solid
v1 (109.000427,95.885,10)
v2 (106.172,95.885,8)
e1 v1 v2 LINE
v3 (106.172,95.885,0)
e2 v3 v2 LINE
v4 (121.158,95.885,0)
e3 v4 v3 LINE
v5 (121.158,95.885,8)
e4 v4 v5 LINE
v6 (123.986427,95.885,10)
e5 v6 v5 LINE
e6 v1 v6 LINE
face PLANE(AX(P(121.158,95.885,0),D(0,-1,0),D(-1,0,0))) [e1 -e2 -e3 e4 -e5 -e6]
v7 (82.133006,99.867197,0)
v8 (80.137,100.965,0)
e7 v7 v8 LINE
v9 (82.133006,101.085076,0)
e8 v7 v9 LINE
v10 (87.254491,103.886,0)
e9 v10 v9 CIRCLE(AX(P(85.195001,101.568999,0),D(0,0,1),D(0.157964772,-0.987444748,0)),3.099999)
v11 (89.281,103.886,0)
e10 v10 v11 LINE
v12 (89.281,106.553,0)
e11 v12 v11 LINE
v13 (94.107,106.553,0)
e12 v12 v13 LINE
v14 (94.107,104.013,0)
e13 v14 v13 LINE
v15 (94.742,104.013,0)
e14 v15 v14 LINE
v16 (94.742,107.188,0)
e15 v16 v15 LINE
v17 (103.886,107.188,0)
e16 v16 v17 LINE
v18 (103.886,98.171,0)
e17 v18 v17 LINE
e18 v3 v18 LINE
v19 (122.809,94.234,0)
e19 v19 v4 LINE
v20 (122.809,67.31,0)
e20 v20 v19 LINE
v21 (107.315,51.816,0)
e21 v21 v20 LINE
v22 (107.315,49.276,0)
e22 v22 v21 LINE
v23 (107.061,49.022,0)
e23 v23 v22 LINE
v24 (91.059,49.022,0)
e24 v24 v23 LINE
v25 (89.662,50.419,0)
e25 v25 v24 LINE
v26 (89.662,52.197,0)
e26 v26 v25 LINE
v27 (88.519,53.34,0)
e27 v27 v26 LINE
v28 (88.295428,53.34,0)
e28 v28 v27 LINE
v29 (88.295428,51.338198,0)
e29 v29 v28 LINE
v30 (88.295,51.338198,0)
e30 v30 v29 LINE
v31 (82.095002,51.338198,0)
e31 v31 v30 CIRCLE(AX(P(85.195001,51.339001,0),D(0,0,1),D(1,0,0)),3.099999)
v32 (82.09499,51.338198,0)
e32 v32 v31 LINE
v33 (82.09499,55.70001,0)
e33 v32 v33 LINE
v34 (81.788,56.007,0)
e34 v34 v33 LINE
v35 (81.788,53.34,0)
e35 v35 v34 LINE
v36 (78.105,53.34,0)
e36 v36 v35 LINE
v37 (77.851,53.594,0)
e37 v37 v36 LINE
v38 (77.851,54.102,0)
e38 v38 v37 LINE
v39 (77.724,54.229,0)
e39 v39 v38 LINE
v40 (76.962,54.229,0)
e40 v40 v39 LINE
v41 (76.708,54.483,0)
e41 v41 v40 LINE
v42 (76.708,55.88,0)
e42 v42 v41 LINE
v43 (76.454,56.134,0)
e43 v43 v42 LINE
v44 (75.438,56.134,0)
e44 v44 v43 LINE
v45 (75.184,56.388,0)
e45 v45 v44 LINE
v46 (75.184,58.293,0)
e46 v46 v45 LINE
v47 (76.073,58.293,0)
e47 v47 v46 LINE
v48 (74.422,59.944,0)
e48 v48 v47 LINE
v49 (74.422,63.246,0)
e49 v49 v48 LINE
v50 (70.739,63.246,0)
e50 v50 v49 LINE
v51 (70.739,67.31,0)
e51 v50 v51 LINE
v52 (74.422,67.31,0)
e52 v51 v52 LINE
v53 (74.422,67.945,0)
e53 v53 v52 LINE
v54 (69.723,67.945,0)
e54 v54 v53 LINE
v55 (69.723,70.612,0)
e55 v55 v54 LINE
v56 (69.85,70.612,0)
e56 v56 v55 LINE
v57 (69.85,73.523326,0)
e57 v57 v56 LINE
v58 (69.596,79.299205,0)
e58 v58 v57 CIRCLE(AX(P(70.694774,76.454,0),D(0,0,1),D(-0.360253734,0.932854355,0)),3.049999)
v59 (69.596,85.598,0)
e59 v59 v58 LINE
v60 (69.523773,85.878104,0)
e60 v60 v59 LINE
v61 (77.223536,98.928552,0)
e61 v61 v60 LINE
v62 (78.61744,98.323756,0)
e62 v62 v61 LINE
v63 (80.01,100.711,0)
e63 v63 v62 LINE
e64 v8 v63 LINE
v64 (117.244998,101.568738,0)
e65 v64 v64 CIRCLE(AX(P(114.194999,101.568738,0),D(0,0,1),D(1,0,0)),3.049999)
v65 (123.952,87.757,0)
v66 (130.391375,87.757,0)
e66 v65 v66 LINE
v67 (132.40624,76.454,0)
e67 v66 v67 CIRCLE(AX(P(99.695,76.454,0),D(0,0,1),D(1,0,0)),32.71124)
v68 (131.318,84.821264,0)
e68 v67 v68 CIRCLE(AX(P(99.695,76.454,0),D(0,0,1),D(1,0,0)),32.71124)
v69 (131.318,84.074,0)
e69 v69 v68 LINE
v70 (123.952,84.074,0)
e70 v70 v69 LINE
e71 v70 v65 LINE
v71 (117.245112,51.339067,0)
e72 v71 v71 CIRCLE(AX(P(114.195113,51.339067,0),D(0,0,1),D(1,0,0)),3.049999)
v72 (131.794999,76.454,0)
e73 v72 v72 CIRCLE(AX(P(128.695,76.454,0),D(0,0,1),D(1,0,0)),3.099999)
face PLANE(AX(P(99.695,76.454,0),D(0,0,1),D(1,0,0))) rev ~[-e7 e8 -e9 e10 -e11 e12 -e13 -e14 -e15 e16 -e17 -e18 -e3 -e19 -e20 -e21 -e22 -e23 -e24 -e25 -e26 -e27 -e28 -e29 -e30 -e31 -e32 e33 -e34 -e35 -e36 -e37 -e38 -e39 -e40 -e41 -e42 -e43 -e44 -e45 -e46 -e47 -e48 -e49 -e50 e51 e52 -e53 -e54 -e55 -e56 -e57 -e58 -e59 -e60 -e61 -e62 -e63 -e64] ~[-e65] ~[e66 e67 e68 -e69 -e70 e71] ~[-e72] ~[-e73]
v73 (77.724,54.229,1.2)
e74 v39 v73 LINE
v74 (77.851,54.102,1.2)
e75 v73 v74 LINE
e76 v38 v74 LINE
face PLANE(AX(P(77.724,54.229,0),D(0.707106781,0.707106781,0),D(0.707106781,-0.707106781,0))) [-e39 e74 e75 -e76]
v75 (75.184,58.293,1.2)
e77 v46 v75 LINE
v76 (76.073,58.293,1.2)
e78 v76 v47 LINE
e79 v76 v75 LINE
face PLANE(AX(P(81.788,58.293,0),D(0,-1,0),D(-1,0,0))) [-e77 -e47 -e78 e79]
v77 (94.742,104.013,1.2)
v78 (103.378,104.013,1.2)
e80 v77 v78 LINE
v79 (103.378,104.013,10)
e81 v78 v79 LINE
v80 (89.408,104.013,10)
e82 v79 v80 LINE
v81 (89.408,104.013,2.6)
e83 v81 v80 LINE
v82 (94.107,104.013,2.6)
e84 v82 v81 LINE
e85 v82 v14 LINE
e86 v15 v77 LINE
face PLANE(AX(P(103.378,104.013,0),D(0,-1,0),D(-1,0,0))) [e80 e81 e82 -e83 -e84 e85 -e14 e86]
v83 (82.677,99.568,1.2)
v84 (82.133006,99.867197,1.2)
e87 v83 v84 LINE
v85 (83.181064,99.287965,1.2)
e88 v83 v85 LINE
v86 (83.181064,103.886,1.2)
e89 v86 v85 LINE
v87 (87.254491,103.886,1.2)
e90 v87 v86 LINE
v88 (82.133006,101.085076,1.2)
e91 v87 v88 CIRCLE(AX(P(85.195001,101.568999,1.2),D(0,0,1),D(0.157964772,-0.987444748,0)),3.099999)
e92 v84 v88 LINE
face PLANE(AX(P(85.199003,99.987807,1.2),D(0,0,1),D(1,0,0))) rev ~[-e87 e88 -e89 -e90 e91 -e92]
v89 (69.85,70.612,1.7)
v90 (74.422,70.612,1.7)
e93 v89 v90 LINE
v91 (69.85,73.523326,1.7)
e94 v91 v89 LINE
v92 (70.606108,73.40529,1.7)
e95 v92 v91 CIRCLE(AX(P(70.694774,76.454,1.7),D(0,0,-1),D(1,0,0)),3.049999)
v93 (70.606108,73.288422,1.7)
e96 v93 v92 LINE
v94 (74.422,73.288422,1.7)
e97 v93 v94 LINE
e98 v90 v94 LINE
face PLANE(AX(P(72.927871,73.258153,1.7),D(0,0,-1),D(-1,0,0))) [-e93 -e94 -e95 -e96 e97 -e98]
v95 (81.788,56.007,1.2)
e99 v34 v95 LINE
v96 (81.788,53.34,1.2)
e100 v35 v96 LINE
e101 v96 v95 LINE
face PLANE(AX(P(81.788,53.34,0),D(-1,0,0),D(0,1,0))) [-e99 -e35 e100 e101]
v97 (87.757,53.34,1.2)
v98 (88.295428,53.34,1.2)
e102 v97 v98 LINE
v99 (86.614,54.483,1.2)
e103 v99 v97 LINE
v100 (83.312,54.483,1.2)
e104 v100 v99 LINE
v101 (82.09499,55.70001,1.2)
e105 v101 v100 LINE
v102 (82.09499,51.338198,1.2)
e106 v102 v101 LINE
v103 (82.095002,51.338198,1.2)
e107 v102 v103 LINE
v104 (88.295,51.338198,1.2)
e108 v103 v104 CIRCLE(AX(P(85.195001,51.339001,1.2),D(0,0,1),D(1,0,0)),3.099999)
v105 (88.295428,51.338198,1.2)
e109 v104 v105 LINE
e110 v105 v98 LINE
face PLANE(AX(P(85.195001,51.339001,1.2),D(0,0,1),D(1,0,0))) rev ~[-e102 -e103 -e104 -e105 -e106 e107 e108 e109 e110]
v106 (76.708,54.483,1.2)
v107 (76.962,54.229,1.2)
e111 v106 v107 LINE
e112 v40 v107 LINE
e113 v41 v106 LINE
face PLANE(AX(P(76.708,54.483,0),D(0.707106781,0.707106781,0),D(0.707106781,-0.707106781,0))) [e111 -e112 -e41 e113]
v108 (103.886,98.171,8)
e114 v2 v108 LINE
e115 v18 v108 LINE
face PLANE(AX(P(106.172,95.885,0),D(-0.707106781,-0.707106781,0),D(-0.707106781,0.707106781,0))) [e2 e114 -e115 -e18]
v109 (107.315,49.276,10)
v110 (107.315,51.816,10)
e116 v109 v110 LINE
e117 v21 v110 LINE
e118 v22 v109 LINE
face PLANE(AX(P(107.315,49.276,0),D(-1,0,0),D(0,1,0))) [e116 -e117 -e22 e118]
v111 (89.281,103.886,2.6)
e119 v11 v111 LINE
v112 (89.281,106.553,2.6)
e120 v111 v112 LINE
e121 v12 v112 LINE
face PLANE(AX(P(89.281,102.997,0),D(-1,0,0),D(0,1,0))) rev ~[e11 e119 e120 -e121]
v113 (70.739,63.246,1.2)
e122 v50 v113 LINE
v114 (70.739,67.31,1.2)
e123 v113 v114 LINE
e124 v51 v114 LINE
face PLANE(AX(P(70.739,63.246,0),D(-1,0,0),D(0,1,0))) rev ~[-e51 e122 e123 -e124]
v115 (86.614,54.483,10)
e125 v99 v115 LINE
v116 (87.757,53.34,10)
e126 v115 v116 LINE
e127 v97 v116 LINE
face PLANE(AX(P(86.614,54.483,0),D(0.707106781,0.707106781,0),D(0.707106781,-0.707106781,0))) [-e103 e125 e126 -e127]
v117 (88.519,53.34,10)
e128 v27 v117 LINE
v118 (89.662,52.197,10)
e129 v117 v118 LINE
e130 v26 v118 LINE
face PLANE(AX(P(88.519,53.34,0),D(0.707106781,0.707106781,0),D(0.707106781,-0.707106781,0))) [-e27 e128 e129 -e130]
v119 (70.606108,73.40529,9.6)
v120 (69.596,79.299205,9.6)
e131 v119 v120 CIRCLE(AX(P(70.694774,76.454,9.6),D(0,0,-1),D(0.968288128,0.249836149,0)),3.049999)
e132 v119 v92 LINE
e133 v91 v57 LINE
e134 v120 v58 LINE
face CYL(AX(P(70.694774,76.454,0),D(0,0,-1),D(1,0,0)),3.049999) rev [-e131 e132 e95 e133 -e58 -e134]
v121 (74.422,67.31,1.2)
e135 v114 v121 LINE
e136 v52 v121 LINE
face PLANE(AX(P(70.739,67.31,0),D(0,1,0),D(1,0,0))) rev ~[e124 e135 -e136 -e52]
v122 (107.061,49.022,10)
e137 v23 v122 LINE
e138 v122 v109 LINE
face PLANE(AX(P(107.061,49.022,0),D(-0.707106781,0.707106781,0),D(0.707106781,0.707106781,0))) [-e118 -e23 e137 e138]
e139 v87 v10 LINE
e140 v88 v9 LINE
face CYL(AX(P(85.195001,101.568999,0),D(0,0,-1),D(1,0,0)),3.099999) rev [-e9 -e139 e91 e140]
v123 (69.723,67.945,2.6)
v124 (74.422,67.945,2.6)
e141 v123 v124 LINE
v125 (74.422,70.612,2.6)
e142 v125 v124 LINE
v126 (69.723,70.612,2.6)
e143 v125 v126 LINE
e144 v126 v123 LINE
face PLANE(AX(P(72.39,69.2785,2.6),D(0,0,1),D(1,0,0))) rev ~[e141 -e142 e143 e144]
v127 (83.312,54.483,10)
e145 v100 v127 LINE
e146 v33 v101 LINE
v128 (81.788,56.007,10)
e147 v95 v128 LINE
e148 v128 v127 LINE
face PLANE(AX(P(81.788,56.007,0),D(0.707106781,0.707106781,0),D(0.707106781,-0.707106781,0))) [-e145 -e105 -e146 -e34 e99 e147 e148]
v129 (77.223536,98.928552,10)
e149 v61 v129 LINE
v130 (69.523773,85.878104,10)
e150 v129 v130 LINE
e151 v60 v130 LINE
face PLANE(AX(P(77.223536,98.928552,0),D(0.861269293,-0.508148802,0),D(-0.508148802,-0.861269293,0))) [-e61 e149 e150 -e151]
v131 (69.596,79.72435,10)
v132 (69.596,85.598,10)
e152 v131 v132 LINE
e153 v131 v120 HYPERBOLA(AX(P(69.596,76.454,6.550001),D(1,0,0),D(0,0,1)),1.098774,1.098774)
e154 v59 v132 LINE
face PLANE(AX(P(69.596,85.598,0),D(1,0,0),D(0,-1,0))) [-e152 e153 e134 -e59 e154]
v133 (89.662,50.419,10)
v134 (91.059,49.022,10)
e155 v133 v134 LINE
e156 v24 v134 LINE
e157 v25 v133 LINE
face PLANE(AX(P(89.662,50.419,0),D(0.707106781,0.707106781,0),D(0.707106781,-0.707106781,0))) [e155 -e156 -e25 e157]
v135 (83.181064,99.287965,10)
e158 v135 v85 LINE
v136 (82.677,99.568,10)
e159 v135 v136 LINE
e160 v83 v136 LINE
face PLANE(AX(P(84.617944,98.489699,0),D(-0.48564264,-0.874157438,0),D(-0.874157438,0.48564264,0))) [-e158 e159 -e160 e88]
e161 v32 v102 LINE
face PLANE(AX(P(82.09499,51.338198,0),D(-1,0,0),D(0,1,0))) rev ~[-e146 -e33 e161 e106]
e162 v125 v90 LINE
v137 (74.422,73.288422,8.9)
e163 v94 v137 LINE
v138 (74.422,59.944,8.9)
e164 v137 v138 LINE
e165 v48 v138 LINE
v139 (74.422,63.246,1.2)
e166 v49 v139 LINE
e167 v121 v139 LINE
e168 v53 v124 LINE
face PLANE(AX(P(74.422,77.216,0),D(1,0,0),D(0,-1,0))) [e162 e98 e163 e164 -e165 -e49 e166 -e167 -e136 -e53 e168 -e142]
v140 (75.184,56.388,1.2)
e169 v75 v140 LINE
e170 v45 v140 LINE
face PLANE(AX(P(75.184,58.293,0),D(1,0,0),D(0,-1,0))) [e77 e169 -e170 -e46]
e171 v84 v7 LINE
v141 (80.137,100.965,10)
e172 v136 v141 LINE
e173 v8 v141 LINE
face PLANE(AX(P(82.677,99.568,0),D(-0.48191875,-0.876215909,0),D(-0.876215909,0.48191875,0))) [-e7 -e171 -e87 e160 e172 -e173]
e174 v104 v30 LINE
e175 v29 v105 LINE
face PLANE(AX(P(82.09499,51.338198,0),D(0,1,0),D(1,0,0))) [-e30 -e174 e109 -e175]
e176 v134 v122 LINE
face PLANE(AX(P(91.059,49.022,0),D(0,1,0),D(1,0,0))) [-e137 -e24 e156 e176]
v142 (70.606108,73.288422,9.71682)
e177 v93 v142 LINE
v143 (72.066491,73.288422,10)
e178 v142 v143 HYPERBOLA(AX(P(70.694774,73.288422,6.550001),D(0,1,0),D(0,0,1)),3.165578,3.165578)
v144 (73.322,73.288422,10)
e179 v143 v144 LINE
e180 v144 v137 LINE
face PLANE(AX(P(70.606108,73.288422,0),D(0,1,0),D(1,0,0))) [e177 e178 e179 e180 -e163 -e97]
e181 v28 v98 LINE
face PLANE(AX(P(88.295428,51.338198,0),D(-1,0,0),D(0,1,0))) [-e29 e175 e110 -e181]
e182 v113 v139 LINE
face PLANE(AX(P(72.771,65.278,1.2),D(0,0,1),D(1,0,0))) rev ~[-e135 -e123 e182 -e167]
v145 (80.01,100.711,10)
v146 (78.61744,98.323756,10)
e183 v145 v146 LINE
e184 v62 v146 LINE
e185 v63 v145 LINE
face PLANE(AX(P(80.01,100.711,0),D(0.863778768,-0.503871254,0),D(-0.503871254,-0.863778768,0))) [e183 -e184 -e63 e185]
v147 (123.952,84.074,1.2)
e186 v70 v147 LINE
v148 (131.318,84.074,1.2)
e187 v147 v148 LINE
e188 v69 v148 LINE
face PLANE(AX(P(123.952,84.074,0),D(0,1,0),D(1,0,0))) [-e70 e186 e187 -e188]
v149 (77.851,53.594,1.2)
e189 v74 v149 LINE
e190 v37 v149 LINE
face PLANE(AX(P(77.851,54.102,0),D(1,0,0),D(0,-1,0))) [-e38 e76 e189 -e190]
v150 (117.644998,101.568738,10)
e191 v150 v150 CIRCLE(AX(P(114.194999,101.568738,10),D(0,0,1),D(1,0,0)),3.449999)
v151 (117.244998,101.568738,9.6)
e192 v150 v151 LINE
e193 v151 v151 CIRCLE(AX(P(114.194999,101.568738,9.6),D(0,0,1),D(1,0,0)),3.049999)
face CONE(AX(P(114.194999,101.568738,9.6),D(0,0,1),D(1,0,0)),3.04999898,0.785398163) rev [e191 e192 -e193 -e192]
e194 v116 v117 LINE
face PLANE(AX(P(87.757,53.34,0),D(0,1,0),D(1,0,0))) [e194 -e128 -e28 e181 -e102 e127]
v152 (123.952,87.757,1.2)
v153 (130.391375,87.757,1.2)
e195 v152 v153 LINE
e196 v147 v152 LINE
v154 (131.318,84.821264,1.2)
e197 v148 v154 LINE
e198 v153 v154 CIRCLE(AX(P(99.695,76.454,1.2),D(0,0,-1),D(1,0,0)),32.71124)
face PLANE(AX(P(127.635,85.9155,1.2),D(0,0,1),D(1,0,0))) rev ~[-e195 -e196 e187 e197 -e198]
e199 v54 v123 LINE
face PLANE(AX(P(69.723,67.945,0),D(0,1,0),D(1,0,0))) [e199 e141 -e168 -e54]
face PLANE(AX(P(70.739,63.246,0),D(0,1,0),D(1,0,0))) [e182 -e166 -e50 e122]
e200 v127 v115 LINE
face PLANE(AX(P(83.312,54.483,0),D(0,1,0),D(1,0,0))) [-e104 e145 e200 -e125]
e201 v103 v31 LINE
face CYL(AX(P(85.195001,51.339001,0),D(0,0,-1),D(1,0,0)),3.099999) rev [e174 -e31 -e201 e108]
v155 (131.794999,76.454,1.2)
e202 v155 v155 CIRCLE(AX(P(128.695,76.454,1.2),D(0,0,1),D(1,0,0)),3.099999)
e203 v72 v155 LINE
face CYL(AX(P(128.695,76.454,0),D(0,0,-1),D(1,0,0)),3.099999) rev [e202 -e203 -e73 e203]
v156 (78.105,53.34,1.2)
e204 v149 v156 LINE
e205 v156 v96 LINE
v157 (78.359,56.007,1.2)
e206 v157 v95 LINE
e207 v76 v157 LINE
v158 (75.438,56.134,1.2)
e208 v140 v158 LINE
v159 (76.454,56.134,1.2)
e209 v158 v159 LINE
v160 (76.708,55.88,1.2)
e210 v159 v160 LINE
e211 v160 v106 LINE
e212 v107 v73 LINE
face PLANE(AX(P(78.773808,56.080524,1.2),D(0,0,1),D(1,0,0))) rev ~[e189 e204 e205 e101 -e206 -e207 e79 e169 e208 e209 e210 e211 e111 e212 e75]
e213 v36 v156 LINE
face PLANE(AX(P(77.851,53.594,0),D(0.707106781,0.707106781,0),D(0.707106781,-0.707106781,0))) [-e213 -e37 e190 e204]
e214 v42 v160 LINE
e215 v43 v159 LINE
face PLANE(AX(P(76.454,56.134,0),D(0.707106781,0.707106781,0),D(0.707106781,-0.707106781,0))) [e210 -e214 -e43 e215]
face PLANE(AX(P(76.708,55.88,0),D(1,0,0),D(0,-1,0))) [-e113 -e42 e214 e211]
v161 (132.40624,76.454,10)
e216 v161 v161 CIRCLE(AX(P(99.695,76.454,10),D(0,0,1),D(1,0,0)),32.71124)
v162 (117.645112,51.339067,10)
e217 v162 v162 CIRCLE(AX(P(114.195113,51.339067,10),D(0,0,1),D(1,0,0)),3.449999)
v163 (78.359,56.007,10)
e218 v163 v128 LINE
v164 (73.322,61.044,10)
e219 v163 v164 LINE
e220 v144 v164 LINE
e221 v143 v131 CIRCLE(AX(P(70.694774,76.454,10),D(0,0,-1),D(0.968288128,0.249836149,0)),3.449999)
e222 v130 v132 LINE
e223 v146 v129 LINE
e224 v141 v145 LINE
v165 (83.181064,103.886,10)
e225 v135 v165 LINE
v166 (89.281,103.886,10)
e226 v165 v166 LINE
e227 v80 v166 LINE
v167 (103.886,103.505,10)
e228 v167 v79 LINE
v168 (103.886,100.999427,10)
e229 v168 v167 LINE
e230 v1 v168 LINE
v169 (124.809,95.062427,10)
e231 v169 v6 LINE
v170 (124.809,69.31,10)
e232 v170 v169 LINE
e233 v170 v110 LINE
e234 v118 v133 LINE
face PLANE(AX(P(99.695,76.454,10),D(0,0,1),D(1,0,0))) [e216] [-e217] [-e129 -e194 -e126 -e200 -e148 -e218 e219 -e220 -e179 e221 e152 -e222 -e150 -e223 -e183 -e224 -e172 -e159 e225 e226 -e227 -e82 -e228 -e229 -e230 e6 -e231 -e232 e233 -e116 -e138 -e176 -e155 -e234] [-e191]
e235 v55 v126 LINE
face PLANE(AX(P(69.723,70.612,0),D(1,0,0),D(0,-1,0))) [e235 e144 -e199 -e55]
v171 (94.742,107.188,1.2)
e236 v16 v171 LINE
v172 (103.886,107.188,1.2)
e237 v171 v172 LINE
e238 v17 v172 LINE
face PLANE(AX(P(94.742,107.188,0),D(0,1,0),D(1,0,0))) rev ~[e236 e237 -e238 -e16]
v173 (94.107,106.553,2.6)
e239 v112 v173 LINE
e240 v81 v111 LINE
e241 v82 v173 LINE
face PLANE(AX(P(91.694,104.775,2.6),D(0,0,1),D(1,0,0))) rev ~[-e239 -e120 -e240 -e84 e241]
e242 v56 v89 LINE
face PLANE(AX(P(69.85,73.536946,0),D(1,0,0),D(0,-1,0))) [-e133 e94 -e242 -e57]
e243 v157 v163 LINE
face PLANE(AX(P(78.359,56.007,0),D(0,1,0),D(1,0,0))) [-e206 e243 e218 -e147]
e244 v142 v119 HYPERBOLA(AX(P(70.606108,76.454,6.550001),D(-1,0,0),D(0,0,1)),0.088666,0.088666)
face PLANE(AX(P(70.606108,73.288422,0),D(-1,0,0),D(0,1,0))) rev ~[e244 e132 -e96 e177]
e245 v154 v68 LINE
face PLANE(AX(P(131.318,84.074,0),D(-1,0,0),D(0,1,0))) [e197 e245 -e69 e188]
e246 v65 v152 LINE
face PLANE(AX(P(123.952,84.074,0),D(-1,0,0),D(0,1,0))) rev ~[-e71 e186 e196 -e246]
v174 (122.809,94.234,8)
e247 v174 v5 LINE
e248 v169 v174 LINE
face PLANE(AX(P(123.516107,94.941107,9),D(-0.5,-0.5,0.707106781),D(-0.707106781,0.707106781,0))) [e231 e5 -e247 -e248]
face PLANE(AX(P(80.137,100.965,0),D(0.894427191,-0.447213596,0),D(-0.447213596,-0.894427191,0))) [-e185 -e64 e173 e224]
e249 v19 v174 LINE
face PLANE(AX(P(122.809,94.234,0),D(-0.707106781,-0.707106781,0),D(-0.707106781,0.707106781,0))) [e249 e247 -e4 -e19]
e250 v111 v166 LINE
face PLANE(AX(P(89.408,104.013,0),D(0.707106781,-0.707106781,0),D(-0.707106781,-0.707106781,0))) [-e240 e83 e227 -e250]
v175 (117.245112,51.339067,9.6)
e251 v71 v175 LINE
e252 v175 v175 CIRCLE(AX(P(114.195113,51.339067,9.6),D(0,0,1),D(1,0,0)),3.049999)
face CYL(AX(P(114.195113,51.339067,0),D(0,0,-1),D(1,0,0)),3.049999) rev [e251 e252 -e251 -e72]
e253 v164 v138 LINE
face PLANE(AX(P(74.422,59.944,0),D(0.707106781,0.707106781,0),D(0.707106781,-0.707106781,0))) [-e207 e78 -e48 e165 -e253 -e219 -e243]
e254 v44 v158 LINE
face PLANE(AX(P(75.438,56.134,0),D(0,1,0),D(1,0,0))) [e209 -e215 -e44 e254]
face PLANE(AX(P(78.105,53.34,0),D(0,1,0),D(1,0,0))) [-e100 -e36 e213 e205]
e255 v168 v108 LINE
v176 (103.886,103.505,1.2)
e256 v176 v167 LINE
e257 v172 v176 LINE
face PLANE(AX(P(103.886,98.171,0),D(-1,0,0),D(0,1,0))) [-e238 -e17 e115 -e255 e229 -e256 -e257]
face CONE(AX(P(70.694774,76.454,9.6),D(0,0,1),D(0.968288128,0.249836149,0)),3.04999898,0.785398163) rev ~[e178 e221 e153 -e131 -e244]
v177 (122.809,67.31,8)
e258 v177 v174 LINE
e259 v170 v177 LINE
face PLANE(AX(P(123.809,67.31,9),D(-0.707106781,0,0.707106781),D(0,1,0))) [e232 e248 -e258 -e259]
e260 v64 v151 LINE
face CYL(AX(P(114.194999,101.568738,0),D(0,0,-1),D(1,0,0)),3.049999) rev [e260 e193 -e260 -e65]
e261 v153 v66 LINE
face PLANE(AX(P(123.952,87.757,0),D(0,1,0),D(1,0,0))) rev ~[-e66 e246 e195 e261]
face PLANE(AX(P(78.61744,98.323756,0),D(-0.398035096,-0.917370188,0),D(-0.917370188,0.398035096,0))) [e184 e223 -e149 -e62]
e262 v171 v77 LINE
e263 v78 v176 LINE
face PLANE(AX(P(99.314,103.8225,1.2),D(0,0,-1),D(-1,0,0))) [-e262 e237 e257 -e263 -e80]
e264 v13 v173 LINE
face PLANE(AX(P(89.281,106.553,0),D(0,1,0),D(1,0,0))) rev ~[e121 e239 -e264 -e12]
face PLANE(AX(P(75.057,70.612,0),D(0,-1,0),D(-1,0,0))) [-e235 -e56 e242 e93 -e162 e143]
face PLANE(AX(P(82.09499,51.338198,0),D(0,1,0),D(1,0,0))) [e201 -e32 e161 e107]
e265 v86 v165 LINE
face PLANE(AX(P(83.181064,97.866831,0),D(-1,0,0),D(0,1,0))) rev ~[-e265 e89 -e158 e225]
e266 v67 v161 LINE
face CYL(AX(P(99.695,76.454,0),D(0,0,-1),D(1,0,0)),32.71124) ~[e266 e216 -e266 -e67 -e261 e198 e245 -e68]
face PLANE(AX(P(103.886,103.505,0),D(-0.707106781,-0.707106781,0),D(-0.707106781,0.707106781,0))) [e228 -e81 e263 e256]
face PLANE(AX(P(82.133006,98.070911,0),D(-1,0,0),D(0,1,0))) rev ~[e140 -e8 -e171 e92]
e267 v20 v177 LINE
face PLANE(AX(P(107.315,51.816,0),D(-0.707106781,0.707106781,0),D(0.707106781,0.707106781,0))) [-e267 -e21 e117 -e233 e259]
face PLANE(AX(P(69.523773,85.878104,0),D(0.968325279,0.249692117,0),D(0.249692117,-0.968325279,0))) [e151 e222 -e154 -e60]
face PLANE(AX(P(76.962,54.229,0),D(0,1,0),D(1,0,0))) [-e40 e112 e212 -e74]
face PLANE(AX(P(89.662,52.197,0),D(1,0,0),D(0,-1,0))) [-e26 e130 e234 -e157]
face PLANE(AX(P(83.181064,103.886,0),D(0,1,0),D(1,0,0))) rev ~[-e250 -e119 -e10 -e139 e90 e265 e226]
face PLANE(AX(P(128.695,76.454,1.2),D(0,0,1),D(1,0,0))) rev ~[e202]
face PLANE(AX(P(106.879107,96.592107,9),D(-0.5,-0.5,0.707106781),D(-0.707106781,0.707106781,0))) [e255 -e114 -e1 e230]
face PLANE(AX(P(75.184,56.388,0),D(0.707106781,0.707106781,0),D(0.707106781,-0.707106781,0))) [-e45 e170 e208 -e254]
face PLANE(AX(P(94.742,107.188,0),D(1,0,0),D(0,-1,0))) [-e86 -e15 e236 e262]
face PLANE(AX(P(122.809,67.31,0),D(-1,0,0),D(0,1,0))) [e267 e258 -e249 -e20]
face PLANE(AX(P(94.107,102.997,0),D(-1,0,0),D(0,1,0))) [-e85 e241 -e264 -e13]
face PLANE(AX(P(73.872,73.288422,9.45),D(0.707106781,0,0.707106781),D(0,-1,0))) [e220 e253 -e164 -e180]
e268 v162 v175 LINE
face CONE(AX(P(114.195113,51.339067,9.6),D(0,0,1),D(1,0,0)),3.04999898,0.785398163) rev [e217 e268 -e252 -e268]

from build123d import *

# Parameters (mm, degrees)
SKETCH_2_R           = 32.71124014
SKETCH_2_R_2         = 3.04999898
EXTRUDE_1_DEPTH      = 10
CUT_EXTRUDE_1_DEPTH  = 10
SKETCH_3_W           = 4.826
SKETCH_3_H           = 3.683
CUT_EXTRUDE_2_DEPTH  = 10
SKETCH_4_R           = 3.09999888
CUT_EXTRUDE_3_DEPTH  = 1.2
SKETCH_5_W           = 6.131993656
SKETCH_5_H           = 3.833791951
SKETCH_5_W_2         = 6.200437112
SKETCH_5_H_2         = 5.346426118
CUT_EXTRUDE_7_DEPTH  = 1.2
SKETCH_6_W           = 4.064
SKETCH_6_H           = 4.064
SKETCH_6_W_2         = 7.366
SKETCH_6_H_2         = 3.683
CUT_EXTRUDE_8_DEPTH  = 1.2
SKETCH_7_W           = 4.826
SKETCH_7_H           = 3.556
CUT_EXTRUDE_9_DEPTH  = 2.6
CHAMFER_1_SIZE       = 0.4
CUT_EXTRUDE_10_DEPTH = 1.7
SKETCH_9_W           = 5.344198096
SKETCH_9_H           = 4.530795449
CUT_EXTRUDE_11_DEPTH = 10
CHAMFER_3_SIZE       = 2
SKETCH_10_W          = 6.099936029
SKETCH_10_H          = 6.019169357
CUT_EXTRUDE_12_DEPTH = 10
CHAMFER_5_SIZE       = 1.1
CHAMFER_6_SIZE       = 2


with BuildPart() as part:
    # 草图2 → 凸台-拉伸1 (new body)
    with BuildSketch(Plane.XY):
        with Locations((99.695, 76.454)):
            Circle(SKETCH_2_R)
        with Locations((114.19499894, 101.56873768)):
            Circle(SKETCH_2_R_2, mode=Mode.SUBTRACT)
        with Locations((114.19511324, 51.33906674)):
            Circle(SKETCH_2_R_2, mode=Mode.SUBTRACT)
        with Locations((70.69477352, 76.454)):
            Circle(SKETCH_2_R_2, mode=Mode.SUBTRACT)
    extrude(amount=EXTRUDE_1_DEPTH)

    # 草图1 → 切除-拉伸1 (cut)
    with BuildSketch(Plane.XY):
        Polygon((72.39, 79.248), (74.422, 77.216), (74.422, 59.944), (78.359, 56.007), (81.788, 56.007), (83.312, 54.483), (86.614, 54.483), (87.757, 53.34), (88.519, 53.34), (89.662, 52.197), (89.662, 50.419), (91.059, 49.022), (107.061, 49.022), (107.315, 49.276), (107.315, 51.816), (122.809, 67.31), (122.809, 94.234), (121.158, 95.885), (106.172, 95.885), (103.886, 98.171), (103.886, 103.505), (103.378, 104.013), (89.408, 104.013), (89.281, 103.886), (89.281, 99.568), (88.265, 98.552), (84.61794354, 98.48969888), (82.677, 99.568), (80.137, 100.965), (80.01, 100.711), (78.61743992, 98.3237556), (77.22353618, 98.92855246), (69.52377256, 85.87810358), (69.596, 85.598), (69.596, 80.899), (70.866, 79.629), (71.501, 79.629), (71.882, 79.248), align=None)
    extrude(amount=CUT_EXTRUDE_1_DEPTH, mode=Mode.SUBTRACT)

    # 草图3 → 切除-拉伸2 (cut)
    with BuildSketch(Plane.XY):
        with Locations((72.009, 79.0575)):
            Rectangle(SKETCH_3_W, SKETCH_3_H)
    extrude(amount=CUT_EXTRUDE_2_DEPTH, mode=Mode.SUBTRACT)

    # 草图4 → 切除-拉伸3 (cut)
    with BuildSketch(Plane.XY):
        with Locations((128.69500042, 76.454)):
            Circle(SKETCH_4_R)
        with Locations((85.19500106, 51.3390007)):
            Circle(SKETCH_4_R)
        with Locations((85.19500106, 101.5689993)):
            Circle(SKETCH_4_R)
    extrude(amount=CUT_EXTRUDE_3_DEPTH, mode=Mode.SUBTRACT)

    # 草图5 → 切除-拉伸7 (cut)
    with BuildSketch(Plane.XY):
        with Locations((85.199003172, 99.987807393)):
            Rectangle(SKETCH_5_W, SKETCH_5_H)
        with Locations((85.195209049, 54.011411306)):
            Rectangle(SKETCH_5_W_2, SKETCH_5_H_2)
    extrude(amount=CUT_EXTRUDE_7_DEPTH, mode=Mode.SUBTRACT)

    # 草图6 → 切除-拉伸8 (cut)
    with BuildSketch(Plane.XY):
        Polygon((76.327, 58.293), (75.692, 58.293), (75.184, 58.293), (75.184, 56.388), (75.438, 56.134), (76.454, 56.134), (76.708, 55.88), (76.708, 54.483), (76.962, 54.229), (77.724, 54.229), (77.851, 54.102), (77.851, 53.594), (78.105, 53.34), (81.788, 53.34), (81.788, 58.293), align=None)
        with Locations((72.771, 65.278)):
            Rectangle(SKETCH_6_W, SKETCH_6_H)
        with Locations((127.635, 85.9155)):
            Rectangle(SKETCH_6_W_2, SKETCH_6_H_2)
        Polygon((94.742, 104.394), (94.742, 107.188), (103.886, 107.188), (103.886, 100.457), (94.742, 100.457), align=None)
    extrude(amount=CUT_EXTRUDE_8_DEPTH, mode=Mode.SUBTRACT)

    # 草图7 → 切除-拉伸9 (cut)
    with BuildSketch(Plane.XY):
        with Locations((91.694, 104.775)):
            Rectangle(SKETCH_7_W, SKETCH_7_H)
        Polygon((74.549, 67.945), (75.057, 67.945), (75.057, 70.612), (69.723, 70.612), (69.723, 67.945), align=None)
    extrude(amount=CUT_EXTRUDE_9_DEPTH, mode=Mode.SUBTRACT)

    # 倒角1
    chamfer_1_edges = [part.edges().sort_by_distance(p)[0] for p in [
        (69.300236993, 73.741480571, 10),
        (111.14499996, 101.56873768, 10),
        (111.14511426, 51.33906674, 10),
    ]]
    chamfer(chamfer_1_edges, length=CHAMFER_1_SIZE)

    # 草图8 → 切除-拉伸10 (cut)
    with BuildSketch(Plane.XY):
        Polygon((69.85, 68.072), (69.85, 72.39), (69.85, 73.536945765), (69.98685425, 73.673800015), (72.530800015, 73.673800015), (72.644, 73.787), (72.644, 78.994), (72.898, 79.248), (74.93, 79.248), (75.438, 78.74), (75.438, 72.898), (74.422, 71.882), (74.422, 68.072), align=None)
    extrude(amount=CUT_EXTRUDE_10_DEPTH, mode=Mode.SUBTRACT)

    # 草图9 → 切除-拉伸11 (cut)
    with BuildSketch(Plane.XY):
        with Locations((73.278206637, 75.553819753)):
            Rectangle(SKETCH_9_W, SKETCH_9_H)
    extrude(amount=CUT_EXTRUDE_11_DEPTH, mode=Mode.SUBTRACT)

    # 倒角3
    chamfer_3_edges = [part.edges().sort_by_distance(p)[0] for p in [
        (122.809, 80.772, 10),
        (121.9835, 95.0595, 10),
    ]]
    chamfer(chamfer_3_edges, length=CHAMFER_3_SIZE)

    # 草图10 → 切除-拉伸12 (cut)
    with BuildSketch(Plane.XY):
        with Locations((86.231031986, 100.876415322)):
            Rectangle(SKETCH_10_W, SKETCH_10_H)
    extrude(amount=CUT_EXTRUDE_12_DEPTH, mode=Mode.SUBTRACT)

    # 倒角5
    chamfer_5_edges = [part.edges().sort_by_distance(p)[0] for p in [
        (74.422, 66.616211014, 10),
    ]]
    chamfer(chamfer_5_edges, length=CHAMFER_5_SIZE)

    # 倒角6
    chamfer_6_edges = [part.edges().sort_by_distance(p)[0] for p in [
        (105.029, 97.028, 10),
    ]]
    chamfer(chamfer_6_edges, length=CHAMFER_6_SIZE)


solid = part.part
